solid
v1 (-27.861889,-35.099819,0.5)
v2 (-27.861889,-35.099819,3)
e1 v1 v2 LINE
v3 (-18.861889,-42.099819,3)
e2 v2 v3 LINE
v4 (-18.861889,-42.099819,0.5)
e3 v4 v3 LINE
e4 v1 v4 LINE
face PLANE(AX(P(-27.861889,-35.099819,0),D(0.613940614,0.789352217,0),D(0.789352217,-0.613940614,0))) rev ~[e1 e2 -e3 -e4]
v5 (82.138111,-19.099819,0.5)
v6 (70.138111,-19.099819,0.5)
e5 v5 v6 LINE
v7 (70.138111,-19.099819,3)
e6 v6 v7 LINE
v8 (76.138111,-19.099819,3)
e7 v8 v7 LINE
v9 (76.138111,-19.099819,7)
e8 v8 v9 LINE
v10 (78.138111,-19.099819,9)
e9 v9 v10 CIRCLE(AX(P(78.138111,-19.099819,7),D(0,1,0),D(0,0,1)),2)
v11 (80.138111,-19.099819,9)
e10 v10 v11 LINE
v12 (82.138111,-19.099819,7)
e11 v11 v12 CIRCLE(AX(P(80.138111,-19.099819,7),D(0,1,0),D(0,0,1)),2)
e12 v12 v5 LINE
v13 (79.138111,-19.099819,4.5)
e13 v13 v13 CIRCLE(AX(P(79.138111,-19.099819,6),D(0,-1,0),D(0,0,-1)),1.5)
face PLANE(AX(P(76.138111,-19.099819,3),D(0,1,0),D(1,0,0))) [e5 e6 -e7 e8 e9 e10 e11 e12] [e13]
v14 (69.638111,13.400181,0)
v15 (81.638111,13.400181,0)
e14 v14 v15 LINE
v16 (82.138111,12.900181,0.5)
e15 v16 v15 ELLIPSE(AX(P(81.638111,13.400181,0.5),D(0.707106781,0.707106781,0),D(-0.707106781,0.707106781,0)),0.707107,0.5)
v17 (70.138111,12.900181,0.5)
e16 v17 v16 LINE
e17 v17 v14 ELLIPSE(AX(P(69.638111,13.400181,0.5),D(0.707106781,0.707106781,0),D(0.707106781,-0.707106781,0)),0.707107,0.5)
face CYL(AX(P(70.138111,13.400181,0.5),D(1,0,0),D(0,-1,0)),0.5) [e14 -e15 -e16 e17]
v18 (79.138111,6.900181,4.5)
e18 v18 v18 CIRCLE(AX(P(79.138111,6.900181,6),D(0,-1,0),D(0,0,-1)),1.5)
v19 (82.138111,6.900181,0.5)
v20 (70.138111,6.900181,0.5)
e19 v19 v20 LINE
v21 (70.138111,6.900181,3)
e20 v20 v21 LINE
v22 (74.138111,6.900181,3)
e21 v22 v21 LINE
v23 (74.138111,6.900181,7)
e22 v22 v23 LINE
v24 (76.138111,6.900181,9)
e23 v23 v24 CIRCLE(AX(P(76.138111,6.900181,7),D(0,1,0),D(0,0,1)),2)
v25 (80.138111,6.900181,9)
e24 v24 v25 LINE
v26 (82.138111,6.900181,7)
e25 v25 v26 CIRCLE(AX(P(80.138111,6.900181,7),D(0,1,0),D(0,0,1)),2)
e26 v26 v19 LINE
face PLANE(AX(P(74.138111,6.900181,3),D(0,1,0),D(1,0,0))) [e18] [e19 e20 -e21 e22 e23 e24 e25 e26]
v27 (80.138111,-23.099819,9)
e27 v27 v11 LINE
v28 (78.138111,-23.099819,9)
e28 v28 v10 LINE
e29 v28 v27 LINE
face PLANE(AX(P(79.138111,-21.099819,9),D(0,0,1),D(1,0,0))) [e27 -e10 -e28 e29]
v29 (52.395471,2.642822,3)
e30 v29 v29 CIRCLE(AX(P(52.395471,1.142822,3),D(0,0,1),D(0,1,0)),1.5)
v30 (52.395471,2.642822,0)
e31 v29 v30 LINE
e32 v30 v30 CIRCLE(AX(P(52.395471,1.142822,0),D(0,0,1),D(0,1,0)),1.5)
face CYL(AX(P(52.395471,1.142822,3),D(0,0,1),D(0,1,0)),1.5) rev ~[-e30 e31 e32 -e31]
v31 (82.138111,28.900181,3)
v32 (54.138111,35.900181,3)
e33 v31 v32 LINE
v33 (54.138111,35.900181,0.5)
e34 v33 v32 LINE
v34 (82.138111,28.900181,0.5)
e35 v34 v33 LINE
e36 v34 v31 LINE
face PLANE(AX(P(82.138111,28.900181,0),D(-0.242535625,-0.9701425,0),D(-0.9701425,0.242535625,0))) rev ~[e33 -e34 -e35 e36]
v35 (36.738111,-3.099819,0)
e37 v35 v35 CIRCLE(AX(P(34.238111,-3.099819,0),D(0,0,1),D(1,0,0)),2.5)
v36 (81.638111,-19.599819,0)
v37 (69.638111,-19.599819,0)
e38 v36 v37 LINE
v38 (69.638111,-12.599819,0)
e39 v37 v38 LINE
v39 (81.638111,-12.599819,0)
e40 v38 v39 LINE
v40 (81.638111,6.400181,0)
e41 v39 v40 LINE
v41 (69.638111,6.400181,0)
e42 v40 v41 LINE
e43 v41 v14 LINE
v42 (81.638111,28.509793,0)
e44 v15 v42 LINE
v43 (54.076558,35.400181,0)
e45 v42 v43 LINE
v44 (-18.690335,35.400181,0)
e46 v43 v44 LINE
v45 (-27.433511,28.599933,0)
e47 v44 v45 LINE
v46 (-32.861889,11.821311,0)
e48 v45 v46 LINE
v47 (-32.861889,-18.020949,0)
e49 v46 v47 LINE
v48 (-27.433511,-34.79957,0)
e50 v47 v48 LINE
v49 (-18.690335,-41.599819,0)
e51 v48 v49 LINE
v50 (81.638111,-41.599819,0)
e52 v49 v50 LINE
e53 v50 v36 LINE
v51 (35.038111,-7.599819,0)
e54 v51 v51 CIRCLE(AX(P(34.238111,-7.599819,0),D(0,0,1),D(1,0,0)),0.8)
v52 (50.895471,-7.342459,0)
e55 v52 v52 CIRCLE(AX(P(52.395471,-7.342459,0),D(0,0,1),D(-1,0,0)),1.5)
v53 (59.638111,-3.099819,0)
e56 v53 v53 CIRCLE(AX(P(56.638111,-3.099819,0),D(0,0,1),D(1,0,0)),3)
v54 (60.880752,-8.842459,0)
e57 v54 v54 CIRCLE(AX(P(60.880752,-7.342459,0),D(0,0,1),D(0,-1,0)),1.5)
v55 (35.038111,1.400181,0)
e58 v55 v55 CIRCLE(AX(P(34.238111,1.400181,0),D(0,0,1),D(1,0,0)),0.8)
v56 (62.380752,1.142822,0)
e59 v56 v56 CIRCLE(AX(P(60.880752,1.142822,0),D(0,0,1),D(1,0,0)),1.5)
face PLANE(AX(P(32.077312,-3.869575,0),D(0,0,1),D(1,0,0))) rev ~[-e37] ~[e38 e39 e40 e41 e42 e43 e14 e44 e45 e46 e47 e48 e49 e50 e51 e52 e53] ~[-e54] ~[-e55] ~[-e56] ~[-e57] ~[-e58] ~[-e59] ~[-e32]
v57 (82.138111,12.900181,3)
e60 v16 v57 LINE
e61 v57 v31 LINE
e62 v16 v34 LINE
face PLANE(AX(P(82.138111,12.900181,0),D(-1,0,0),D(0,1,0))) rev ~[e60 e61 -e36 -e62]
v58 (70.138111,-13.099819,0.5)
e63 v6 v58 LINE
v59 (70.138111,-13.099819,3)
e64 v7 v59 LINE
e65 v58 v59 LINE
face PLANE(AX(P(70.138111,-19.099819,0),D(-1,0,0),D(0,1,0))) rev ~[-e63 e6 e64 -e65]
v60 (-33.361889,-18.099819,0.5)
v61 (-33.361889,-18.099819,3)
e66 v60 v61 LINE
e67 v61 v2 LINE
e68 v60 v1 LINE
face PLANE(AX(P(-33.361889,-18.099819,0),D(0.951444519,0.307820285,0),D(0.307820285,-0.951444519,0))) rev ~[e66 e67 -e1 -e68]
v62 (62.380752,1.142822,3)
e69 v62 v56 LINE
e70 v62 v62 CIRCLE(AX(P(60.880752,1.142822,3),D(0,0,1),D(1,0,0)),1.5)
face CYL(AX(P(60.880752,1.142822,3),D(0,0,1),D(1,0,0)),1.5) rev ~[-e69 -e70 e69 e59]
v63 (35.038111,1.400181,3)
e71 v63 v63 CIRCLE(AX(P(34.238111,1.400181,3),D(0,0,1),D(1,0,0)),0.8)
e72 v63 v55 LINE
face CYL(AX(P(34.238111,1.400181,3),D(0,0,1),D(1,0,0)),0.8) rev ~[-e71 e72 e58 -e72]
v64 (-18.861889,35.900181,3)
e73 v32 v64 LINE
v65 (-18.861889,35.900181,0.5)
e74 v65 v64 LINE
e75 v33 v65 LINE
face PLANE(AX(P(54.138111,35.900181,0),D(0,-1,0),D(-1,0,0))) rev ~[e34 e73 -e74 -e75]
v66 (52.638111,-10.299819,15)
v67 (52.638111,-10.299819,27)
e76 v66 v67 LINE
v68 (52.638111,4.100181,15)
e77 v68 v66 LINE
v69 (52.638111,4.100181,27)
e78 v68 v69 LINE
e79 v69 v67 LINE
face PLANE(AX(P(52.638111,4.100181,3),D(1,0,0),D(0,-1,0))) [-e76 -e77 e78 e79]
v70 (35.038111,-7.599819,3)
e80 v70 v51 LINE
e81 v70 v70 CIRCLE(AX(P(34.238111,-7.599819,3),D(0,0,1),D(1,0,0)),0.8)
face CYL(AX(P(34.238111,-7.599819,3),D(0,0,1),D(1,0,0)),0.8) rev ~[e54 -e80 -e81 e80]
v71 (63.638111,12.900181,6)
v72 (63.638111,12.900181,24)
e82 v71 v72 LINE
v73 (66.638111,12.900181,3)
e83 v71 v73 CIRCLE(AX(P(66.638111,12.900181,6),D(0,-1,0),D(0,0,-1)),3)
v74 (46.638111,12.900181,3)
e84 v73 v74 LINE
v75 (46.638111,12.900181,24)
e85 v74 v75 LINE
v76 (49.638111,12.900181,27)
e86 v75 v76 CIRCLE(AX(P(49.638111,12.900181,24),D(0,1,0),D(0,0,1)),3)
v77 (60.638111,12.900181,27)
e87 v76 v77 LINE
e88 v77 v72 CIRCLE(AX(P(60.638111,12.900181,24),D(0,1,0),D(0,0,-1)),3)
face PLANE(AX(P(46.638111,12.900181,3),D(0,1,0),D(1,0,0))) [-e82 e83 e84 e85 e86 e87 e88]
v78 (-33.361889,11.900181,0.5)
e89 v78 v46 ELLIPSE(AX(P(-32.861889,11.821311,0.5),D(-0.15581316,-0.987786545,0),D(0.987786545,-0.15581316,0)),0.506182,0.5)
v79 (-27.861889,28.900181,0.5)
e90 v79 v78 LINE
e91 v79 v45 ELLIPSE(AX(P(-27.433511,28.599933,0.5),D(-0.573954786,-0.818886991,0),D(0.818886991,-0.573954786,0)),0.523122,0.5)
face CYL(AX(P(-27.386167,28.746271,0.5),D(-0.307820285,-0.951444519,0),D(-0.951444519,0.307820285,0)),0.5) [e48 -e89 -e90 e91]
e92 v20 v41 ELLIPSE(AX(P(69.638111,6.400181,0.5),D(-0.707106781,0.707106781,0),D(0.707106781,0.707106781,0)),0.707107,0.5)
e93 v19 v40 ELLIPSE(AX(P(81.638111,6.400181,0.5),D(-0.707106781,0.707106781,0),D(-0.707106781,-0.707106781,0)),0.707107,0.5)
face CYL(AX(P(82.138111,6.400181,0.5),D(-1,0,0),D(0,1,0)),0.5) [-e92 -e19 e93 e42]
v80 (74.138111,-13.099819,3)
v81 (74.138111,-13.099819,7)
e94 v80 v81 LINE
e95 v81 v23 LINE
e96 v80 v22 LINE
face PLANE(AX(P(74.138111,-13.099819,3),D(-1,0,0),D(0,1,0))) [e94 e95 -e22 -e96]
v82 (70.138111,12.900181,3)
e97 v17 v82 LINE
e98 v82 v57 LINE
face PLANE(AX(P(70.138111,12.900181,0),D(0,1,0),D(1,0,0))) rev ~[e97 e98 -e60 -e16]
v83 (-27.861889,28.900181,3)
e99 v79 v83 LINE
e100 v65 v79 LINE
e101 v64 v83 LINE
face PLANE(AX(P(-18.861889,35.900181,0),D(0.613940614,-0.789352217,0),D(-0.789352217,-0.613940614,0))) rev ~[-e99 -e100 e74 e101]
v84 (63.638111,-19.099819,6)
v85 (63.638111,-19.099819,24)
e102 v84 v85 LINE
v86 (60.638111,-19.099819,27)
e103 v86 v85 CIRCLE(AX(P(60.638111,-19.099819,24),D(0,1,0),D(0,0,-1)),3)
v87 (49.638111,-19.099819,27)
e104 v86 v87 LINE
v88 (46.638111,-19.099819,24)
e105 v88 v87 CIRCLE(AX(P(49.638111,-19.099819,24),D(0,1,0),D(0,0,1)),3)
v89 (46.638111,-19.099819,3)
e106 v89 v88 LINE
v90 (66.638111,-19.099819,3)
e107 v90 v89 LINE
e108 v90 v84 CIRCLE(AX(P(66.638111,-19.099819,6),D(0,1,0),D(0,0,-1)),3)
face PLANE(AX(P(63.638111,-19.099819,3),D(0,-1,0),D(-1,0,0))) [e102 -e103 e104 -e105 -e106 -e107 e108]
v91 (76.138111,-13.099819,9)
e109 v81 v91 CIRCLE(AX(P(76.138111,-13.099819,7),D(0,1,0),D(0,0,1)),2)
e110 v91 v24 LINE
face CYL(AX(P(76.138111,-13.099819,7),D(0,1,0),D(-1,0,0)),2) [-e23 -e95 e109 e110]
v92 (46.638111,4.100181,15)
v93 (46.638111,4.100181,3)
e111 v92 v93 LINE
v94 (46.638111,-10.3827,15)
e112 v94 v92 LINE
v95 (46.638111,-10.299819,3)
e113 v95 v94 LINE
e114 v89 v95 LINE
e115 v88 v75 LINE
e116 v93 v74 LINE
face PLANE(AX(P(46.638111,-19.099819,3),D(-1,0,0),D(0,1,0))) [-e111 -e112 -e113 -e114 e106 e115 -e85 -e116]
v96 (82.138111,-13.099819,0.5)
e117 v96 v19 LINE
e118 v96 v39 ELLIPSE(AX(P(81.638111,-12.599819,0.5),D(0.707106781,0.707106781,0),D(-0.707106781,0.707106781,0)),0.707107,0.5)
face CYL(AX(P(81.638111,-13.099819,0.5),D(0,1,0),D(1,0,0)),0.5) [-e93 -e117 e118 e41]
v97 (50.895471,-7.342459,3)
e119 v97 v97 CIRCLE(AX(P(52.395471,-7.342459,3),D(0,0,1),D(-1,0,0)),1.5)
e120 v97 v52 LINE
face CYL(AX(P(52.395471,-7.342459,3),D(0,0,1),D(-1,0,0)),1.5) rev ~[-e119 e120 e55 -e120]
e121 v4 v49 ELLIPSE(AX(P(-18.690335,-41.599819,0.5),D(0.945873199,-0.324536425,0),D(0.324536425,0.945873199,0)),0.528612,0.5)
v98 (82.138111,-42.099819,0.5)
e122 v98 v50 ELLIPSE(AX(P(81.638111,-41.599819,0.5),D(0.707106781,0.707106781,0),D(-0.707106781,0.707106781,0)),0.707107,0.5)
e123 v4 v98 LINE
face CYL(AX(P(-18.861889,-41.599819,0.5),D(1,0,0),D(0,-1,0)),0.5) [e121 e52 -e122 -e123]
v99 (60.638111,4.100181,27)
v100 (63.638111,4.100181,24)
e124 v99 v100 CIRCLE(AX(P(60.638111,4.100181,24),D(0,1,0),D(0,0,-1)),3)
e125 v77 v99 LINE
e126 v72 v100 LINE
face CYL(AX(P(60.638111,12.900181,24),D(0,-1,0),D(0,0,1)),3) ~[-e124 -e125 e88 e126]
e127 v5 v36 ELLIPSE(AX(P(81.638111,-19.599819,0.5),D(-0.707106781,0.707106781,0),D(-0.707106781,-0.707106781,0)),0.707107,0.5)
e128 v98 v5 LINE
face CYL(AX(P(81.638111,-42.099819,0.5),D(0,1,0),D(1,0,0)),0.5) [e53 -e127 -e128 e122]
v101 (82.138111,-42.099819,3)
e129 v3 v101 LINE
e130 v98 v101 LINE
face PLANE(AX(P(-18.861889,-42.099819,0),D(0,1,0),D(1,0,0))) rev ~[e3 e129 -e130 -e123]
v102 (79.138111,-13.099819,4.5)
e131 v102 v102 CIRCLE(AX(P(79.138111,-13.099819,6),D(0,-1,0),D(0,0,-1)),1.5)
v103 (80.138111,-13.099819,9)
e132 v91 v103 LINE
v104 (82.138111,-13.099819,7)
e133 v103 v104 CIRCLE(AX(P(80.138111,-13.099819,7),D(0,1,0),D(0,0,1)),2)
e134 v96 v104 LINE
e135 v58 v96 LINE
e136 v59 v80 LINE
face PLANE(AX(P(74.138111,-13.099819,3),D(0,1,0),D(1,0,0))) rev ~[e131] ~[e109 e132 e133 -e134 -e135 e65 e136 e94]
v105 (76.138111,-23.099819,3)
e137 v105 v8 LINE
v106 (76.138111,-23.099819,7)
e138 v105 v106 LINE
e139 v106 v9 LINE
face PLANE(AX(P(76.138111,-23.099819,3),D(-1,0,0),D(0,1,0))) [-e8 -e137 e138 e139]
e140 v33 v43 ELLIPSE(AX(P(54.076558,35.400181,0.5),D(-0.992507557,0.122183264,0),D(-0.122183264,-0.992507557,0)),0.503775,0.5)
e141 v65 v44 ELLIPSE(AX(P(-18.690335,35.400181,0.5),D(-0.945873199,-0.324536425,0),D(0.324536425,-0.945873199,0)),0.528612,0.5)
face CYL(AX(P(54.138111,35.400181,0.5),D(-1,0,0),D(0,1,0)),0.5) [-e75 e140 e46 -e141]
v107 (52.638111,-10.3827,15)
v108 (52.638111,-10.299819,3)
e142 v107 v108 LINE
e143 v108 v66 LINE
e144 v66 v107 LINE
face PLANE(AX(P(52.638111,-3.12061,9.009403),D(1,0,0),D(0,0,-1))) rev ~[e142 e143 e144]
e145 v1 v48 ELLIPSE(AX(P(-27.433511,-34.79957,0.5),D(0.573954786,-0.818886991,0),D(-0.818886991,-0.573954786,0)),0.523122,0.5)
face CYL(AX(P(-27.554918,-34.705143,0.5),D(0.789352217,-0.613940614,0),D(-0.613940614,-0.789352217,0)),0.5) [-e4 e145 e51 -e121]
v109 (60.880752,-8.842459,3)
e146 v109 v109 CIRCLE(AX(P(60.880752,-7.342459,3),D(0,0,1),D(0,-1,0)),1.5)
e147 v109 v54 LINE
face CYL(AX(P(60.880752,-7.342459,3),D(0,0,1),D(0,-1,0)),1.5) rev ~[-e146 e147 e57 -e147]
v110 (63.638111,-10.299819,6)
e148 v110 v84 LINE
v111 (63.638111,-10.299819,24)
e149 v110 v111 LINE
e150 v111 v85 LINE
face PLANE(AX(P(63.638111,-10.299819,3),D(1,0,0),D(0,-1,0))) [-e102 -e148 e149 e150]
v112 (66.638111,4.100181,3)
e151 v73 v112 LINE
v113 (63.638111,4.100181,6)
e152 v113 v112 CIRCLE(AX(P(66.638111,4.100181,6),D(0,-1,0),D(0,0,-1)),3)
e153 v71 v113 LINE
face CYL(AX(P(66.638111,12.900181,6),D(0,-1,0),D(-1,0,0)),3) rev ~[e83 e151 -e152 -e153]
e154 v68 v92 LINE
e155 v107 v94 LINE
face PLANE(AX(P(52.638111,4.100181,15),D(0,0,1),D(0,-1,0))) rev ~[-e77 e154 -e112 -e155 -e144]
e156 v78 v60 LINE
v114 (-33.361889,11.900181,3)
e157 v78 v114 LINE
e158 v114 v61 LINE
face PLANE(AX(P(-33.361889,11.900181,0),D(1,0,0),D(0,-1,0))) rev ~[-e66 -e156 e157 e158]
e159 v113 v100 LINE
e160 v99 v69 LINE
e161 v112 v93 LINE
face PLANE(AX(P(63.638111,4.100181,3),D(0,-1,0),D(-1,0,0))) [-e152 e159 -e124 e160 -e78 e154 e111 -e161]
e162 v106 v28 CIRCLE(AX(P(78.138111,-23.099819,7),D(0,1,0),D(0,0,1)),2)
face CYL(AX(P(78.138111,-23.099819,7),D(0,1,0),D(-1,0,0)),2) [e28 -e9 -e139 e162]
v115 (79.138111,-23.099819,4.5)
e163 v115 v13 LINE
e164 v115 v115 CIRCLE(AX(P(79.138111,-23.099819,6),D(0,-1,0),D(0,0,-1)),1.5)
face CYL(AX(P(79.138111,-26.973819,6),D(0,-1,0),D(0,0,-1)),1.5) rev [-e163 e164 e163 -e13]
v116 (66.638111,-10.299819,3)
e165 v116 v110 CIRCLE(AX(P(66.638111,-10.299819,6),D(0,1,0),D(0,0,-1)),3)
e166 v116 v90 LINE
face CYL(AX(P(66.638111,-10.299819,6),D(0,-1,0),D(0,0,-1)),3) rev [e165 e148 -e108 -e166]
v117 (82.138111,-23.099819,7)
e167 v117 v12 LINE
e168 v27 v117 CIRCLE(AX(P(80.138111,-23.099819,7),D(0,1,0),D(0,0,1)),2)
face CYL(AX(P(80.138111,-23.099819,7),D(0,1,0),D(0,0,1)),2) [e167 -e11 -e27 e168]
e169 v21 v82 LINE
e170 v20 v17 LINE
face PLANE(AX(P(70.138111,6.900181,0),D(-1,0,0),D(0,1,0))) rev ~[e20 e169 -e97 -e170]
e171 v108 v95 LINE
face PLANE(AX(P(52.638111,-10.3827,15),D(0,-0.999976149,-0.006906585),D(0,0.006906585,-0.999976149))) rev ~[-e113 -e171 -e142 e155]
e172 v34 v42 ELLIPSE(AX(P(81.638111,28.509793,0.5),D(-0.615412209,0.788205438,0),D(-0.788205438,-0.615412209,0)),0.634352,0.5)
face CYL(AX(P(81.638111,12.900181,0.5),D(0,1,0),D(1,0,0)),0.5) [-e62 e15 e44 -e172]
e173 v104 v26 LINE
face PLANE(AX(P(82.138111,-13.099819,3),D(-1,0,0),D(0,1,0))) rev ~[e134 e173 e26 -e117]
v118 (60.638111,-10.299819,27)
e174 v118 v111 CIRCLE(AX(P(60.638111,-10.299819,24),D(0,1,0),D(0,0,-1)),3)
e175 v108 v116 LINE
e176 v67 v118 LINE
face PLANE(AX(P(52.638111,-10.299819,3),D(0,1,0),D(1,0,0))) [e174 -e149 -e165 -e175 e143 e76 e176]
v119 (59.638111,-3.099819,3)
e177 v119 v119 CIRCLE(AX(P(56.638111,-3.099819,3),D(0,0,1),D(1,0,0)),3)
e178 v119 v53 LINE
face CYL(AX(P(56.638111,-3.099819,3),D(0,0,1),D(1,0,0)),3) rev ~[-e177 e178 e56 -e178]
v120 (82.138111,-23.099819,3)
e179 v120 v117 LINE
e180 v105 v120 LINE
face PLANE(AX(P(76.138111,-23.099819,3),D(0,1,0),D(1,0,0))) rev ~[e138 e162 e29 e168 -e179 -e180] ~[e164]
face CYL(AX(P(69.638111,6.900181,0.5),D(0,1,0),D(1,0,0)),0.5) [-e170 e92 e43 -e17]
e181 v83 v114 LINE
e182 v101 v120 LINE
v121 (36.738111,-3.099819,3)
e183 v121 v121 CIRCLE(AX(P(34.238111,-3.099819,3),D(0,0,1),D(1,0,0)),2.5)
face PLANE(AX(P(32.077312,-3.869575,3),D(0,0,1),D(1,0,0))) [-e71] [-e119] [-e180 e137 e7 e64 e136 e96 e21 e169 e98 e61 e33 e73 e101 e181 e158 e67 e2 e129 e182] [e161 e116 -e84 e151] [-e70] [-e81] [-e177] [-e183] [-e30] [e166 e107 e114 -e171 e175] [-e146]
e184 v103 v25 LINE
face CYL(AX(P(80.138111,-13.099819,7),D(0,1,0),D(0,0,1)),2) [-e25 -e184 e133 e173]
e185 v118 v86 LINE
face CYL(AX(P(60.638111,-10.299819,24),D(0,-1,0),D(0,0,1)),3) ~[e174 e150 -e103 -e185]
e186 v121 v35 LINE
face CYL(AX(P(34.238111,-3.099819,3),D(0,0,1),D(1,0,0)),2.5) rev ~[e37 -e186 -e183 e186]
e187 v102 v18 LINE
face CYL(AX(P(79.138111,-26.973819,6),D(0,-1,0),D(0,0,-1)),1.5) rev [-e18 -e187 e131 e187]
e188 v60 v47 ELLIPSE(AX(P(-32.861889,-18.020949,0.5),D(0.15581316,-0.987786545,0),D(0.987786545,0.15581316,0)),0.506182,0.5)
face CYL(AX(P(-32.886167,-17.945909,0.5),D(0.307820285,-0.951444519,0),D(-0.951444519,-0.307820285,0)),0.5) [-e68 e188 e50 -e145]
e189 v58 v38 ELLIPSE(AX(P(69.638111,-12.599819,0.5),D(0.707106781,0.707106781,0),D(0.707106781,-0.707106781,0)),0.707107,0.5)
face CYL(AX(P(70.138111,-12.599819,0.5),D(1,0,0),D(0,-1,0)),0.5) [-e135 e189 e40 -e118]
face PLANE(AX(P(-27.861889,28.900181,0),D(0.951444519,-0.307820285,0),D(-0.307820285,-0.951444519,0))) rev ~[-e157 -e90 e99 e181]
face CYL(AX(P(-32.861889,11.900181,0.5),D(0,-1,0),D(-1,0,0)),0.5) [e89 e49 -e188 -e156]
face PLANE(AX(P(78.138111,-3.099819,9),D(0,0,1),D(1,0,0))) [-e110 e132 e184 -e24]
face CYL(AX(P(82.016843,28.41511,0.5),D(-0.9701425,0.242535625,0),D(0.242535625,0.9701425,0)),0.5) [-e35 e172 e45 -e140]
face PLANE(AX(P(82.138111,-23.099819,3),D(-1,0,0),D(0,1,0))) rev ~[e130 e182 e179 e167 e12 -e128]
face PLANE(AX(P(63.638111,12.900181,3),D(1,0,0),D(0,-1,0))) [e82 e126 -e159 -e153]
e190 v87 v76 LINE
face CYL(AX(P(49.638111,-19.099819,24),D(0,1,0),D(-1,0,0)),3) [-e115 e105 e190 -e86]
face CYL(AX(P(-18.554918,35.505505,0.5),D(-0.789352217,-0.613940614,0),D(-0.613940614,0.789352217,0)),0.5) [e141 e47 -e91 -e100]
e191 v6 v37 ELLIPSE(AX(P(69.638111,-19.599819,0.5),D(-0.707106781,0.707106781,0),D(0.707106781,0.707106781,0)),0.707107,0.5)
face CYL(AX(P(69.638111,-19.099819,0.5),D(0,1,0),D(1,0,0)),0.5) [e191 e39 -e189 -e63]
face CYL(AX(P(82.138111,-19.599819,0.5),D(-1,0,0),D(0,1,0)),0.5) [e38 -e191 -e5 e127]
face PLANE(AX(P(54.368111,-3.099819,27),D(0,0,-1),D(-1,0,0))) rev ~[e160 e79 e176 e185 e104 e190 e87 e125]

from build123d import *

# Parameters (mm, degrees)
BOSS_EXTRUDE1_DEPTH     = 3
FILLET1_R               = 0.5
BOSS_EXTRUDE3_DEPTH     = 24
FILLET4_R               = 3
FILLET5_R               = 3
FILLET6_R               = 3
SKETCH4_W               = 6
SKETCH4_H               = 4
BOSS_EXTRUDE4_DEPTH     = 6
FILLET7_R               = 2
SKETCH7_W               = 8
SKETCH7_H               = 20
BOSS_EXTRUDE5_DEPTH     = 6
FILLET8_R               = 2
CUT_EXTRUDE1_DEPTH      = 31.137490822
CUT_EXTRUDE1_DEPTH_BACK = 7.874
SKETCH5_R               = 1.5
CUT_EXTRUDE2_DEPTH      = 31.137490822
SKETCH12_R              = 3
SKETCH12_R_2            = 2.5
CUT_EXTRUDE3_DEPTH      = 31.137490822
SKETCH13_R              = 1.5
CUT_EXTRUDE4_DEPTH      = 31.137490822
CIRPATTERN1_COUNT       = 4
SKETCH14_R              = 0.8
CUT_EXTRUDE5_DEPTH      = 31.137490822


with BuildPart() as part:
    # Sketch1 → Boss-Extrude1 (new body)
    with BuildSketch(Plane.XY):
        Polygon((-18.861888764, -42.099818659), (82.138111236, -42.099818659), (82.138111236, -19.099818659), (70.138111236, -19.099818659), (70.138111236, -13.099818659), (82.138111236, -13.099818659), (82.138111236, 6.900181341), (70.138111236, 6.900181341), (70.138111236, 12.900181341), (82.138111236, 12.900181341), (82.138111236, 28.900181341), (54.138111236, 35.900181341), (-18.861888764, 35.900181341), (-27.861888764, 28.900181341), (-33.361888764, 11.900181341), (-33.361888764, -18.099818659), (-27.861888764, -35.099818659), align=None)
    extrude(amount=BOSS_EXTRUDE1_DEPTH)

    # Fillet1
    fillet1_edges = [part.edges().sort_by_distance(p)[0] for p in [
        (-30.611888764, -26.599818659, 0),
        (-33.361888764, -3.099818659, 0),
        (-30.611888764, 20.400181341, 0),
        (-23.361888764, 32.400181341, 0),
        (17.638111236, 35.900181341, 0),
        (68.138111236, 32.400181341, 0),
        (82.138111236, 20.900181341, 0),
        (76.138111236, 12.900181341, 0),
        (70.138111236, 9.900181341, 0),
        (76.138111236, 6.900181341, 0),
        (82.138111236, -3.099818659, 0),
        (76.138111236, -13.099818659, 0),
        (70.138111236, -16.099818659, 0),
        (76.138111236, -19.099818659, 0),
        (82.138111236, -30.599818659, 0),
        (31.638111236, -42.099818659, 0),
        (-23.361888764, -38.599818659, 0),
    ]]
    fillet(fillet1_edges, radius=FILLET1_R)

    # Sketch2 → Boss-Extrude3 (add)
    with BuildSketch(Plane.XY.offset(3)):
        Polygon((63.638111236, -19.099818659), (46.638111236, -19.099818659), (46.638111236, 12.900181341), (63.638111236, 12.900181341), (63.638111236, 4.100181341), (52.638111236, 4.100181341), (52.638111236, -10.299818659), (63.638111236, -10.299818659), align=None)
    extrude(amount=BOSS_EXTRUDE3_DEPTH)

    # Fillet4
    fillet4_edges = [part.edges().sort_by_distance(p)[0] for p in [
        (46.638111236, -3.099818659, 27),
    ]]
    fillet(fillet4_edges, radius=FILLET4_R)

    # Fillet5
    fillet5_edges = [part.edges().sort_by_distance(p)[0] for p in [
        (63.638111236, 8.500181341, 27),
        (63.638111236, -14.699818659, 27),
    ]]
    fillet(fillet5_edges, radius=FILLET5_R)

    # Fillet6
    fillet6_edges = [part.edges().sort_by_distance(p)[0] for p in [
        (63.638111236, -14.699818659, 3),
        (63.638111236, 8.500181341, 3),
    ]]
    fillet(fillet6_edges, radius=FILLET6_R)

    # Sketch4 → Boss-Extrude4 (add)
    with BuildSketch(Plane.XY.offset(3)):
        with Locations((79.138111236, -21.099818659)):
            Rectangle(SKETCH4_W, SKETCH4_H)
    extrude(amount=BOSS_EXTRUDE4_DEPTH)

    # Fillet7
    fillet7_edges = [part.edges().sort_by_distance(p)[0] for p in [
        (82.138111236, -21.099818659, 9),
        (76.138111236, -21.099818659, 9),
    ]]
    fillet(fillet7_edges, radius=FILLET7_R)

    # Sketch7 → Boss-Extrude5 (add)
    with BuildSketch(Plane.XY.offset(3)):
        with Locations((78.138111236, -3.099818659)):
            Rectangle(SKETCH7_W, SKETCH7_H)
    extrude(amount=BOSS_EXTRUDE5_DEPTH)

    # Fillet8
    fillet8_edges = [part.edges().sort_by_distance(p)[0] for p in [
        (82.138111236, -3.099818659, 9),
        (74.138111236, -3.099818659, 9),
    ]]
    fillet(fillet8_edges, radius=FILLET8_R)

    # Sketch5 → Cut-Extrude1 (cut, two sides: drawn at the far end of the back side and taken through both)
    with BuildSketch(Plane(origin=(0, -19.099818659, 0), x_dir=(1, 0, 0), z_dir=(0, 1, 0)).offset(-CUT_EXTRUDE1_DEPTH_BACK)):
        with Locations(Location((79.138111236, -6, 0), (0, 0, 90))):
            Circle(SKETCH5_R)
    extrude(amount=CUT_EXTRUDE1_DEPTH + CUT_EXTRUDE1_DEPTH_BACK, mode=Mode.SUBTRACT)

    # Sketch11 → Cut-Extrude2 (cut)
    with BuildSketch(Plane(origin=(52.638111236, 0, 0), x_dir=(0, 0, -1), z_dir=(1, 0, 0))):
        Polygon((-3, 4.100181341), (-15, 4.100181341), (-15, -10.382699653), (-3, -10.299818659), align=None)
    extrude(amount=-CUT_EXTRUDE2_DEPTH, mode=Mode.SUBTRACT)

    # Sketch12 → Cut-Extrude3 (cut)
    with BuildSketch(Plane.XY.offset(3)):
        with Locations((56.638111236, -3.099818659)):
            Circle(SKETCH12_R)
        with Locations((34.238111236, -3.099818659)):
            Circle(SKETCH12_R_2)
    extrude(amount=-CUT_EXTRUDE3_DEPTH, mode=Mode.SUBTRACT)

    # Sketch13 → Cut-Extrude4 (cut)
    with BuildSketch(Plane.XY.offset(3)):
        with Locations((60.880751923, 1.142822028)):
            Circle(SKETCH13_R)
    cut_extrude4 = extrude(amount=-CUT_EXTRUDE4_DEPTH, mode=Mode.SUBTRACT)

    # CirPattern1: Cut-Extrude4 ×4 about axis
    cirpattern1_axis = Axis((56.638111236, -3.099818659, 0), (0, 0, 1))
    for i in range(1, CIRPATTERN1_COUNT):
        add(cut_extrude4.rotate(cirpattern1_axis, i * 360 / CIRPATTERN1_COUNT), mode=Mode.SUBTRACT)

    # Sketch14 → Cut-Extrude5 (cut)
    with BuildSketch(Plane.XY.offset(3)):
        with Locations((34.238111236, 1.400181341)):
            Circle(SKETCH14_R)
        with Locations((34.238111236, -7.599818659)):
            Circle(SKETCH14_R)
    extrude(amount=-CUT_EXTRUDE5_DEPTH, mode=Mode.SUBTRACT)


solid = part.part
